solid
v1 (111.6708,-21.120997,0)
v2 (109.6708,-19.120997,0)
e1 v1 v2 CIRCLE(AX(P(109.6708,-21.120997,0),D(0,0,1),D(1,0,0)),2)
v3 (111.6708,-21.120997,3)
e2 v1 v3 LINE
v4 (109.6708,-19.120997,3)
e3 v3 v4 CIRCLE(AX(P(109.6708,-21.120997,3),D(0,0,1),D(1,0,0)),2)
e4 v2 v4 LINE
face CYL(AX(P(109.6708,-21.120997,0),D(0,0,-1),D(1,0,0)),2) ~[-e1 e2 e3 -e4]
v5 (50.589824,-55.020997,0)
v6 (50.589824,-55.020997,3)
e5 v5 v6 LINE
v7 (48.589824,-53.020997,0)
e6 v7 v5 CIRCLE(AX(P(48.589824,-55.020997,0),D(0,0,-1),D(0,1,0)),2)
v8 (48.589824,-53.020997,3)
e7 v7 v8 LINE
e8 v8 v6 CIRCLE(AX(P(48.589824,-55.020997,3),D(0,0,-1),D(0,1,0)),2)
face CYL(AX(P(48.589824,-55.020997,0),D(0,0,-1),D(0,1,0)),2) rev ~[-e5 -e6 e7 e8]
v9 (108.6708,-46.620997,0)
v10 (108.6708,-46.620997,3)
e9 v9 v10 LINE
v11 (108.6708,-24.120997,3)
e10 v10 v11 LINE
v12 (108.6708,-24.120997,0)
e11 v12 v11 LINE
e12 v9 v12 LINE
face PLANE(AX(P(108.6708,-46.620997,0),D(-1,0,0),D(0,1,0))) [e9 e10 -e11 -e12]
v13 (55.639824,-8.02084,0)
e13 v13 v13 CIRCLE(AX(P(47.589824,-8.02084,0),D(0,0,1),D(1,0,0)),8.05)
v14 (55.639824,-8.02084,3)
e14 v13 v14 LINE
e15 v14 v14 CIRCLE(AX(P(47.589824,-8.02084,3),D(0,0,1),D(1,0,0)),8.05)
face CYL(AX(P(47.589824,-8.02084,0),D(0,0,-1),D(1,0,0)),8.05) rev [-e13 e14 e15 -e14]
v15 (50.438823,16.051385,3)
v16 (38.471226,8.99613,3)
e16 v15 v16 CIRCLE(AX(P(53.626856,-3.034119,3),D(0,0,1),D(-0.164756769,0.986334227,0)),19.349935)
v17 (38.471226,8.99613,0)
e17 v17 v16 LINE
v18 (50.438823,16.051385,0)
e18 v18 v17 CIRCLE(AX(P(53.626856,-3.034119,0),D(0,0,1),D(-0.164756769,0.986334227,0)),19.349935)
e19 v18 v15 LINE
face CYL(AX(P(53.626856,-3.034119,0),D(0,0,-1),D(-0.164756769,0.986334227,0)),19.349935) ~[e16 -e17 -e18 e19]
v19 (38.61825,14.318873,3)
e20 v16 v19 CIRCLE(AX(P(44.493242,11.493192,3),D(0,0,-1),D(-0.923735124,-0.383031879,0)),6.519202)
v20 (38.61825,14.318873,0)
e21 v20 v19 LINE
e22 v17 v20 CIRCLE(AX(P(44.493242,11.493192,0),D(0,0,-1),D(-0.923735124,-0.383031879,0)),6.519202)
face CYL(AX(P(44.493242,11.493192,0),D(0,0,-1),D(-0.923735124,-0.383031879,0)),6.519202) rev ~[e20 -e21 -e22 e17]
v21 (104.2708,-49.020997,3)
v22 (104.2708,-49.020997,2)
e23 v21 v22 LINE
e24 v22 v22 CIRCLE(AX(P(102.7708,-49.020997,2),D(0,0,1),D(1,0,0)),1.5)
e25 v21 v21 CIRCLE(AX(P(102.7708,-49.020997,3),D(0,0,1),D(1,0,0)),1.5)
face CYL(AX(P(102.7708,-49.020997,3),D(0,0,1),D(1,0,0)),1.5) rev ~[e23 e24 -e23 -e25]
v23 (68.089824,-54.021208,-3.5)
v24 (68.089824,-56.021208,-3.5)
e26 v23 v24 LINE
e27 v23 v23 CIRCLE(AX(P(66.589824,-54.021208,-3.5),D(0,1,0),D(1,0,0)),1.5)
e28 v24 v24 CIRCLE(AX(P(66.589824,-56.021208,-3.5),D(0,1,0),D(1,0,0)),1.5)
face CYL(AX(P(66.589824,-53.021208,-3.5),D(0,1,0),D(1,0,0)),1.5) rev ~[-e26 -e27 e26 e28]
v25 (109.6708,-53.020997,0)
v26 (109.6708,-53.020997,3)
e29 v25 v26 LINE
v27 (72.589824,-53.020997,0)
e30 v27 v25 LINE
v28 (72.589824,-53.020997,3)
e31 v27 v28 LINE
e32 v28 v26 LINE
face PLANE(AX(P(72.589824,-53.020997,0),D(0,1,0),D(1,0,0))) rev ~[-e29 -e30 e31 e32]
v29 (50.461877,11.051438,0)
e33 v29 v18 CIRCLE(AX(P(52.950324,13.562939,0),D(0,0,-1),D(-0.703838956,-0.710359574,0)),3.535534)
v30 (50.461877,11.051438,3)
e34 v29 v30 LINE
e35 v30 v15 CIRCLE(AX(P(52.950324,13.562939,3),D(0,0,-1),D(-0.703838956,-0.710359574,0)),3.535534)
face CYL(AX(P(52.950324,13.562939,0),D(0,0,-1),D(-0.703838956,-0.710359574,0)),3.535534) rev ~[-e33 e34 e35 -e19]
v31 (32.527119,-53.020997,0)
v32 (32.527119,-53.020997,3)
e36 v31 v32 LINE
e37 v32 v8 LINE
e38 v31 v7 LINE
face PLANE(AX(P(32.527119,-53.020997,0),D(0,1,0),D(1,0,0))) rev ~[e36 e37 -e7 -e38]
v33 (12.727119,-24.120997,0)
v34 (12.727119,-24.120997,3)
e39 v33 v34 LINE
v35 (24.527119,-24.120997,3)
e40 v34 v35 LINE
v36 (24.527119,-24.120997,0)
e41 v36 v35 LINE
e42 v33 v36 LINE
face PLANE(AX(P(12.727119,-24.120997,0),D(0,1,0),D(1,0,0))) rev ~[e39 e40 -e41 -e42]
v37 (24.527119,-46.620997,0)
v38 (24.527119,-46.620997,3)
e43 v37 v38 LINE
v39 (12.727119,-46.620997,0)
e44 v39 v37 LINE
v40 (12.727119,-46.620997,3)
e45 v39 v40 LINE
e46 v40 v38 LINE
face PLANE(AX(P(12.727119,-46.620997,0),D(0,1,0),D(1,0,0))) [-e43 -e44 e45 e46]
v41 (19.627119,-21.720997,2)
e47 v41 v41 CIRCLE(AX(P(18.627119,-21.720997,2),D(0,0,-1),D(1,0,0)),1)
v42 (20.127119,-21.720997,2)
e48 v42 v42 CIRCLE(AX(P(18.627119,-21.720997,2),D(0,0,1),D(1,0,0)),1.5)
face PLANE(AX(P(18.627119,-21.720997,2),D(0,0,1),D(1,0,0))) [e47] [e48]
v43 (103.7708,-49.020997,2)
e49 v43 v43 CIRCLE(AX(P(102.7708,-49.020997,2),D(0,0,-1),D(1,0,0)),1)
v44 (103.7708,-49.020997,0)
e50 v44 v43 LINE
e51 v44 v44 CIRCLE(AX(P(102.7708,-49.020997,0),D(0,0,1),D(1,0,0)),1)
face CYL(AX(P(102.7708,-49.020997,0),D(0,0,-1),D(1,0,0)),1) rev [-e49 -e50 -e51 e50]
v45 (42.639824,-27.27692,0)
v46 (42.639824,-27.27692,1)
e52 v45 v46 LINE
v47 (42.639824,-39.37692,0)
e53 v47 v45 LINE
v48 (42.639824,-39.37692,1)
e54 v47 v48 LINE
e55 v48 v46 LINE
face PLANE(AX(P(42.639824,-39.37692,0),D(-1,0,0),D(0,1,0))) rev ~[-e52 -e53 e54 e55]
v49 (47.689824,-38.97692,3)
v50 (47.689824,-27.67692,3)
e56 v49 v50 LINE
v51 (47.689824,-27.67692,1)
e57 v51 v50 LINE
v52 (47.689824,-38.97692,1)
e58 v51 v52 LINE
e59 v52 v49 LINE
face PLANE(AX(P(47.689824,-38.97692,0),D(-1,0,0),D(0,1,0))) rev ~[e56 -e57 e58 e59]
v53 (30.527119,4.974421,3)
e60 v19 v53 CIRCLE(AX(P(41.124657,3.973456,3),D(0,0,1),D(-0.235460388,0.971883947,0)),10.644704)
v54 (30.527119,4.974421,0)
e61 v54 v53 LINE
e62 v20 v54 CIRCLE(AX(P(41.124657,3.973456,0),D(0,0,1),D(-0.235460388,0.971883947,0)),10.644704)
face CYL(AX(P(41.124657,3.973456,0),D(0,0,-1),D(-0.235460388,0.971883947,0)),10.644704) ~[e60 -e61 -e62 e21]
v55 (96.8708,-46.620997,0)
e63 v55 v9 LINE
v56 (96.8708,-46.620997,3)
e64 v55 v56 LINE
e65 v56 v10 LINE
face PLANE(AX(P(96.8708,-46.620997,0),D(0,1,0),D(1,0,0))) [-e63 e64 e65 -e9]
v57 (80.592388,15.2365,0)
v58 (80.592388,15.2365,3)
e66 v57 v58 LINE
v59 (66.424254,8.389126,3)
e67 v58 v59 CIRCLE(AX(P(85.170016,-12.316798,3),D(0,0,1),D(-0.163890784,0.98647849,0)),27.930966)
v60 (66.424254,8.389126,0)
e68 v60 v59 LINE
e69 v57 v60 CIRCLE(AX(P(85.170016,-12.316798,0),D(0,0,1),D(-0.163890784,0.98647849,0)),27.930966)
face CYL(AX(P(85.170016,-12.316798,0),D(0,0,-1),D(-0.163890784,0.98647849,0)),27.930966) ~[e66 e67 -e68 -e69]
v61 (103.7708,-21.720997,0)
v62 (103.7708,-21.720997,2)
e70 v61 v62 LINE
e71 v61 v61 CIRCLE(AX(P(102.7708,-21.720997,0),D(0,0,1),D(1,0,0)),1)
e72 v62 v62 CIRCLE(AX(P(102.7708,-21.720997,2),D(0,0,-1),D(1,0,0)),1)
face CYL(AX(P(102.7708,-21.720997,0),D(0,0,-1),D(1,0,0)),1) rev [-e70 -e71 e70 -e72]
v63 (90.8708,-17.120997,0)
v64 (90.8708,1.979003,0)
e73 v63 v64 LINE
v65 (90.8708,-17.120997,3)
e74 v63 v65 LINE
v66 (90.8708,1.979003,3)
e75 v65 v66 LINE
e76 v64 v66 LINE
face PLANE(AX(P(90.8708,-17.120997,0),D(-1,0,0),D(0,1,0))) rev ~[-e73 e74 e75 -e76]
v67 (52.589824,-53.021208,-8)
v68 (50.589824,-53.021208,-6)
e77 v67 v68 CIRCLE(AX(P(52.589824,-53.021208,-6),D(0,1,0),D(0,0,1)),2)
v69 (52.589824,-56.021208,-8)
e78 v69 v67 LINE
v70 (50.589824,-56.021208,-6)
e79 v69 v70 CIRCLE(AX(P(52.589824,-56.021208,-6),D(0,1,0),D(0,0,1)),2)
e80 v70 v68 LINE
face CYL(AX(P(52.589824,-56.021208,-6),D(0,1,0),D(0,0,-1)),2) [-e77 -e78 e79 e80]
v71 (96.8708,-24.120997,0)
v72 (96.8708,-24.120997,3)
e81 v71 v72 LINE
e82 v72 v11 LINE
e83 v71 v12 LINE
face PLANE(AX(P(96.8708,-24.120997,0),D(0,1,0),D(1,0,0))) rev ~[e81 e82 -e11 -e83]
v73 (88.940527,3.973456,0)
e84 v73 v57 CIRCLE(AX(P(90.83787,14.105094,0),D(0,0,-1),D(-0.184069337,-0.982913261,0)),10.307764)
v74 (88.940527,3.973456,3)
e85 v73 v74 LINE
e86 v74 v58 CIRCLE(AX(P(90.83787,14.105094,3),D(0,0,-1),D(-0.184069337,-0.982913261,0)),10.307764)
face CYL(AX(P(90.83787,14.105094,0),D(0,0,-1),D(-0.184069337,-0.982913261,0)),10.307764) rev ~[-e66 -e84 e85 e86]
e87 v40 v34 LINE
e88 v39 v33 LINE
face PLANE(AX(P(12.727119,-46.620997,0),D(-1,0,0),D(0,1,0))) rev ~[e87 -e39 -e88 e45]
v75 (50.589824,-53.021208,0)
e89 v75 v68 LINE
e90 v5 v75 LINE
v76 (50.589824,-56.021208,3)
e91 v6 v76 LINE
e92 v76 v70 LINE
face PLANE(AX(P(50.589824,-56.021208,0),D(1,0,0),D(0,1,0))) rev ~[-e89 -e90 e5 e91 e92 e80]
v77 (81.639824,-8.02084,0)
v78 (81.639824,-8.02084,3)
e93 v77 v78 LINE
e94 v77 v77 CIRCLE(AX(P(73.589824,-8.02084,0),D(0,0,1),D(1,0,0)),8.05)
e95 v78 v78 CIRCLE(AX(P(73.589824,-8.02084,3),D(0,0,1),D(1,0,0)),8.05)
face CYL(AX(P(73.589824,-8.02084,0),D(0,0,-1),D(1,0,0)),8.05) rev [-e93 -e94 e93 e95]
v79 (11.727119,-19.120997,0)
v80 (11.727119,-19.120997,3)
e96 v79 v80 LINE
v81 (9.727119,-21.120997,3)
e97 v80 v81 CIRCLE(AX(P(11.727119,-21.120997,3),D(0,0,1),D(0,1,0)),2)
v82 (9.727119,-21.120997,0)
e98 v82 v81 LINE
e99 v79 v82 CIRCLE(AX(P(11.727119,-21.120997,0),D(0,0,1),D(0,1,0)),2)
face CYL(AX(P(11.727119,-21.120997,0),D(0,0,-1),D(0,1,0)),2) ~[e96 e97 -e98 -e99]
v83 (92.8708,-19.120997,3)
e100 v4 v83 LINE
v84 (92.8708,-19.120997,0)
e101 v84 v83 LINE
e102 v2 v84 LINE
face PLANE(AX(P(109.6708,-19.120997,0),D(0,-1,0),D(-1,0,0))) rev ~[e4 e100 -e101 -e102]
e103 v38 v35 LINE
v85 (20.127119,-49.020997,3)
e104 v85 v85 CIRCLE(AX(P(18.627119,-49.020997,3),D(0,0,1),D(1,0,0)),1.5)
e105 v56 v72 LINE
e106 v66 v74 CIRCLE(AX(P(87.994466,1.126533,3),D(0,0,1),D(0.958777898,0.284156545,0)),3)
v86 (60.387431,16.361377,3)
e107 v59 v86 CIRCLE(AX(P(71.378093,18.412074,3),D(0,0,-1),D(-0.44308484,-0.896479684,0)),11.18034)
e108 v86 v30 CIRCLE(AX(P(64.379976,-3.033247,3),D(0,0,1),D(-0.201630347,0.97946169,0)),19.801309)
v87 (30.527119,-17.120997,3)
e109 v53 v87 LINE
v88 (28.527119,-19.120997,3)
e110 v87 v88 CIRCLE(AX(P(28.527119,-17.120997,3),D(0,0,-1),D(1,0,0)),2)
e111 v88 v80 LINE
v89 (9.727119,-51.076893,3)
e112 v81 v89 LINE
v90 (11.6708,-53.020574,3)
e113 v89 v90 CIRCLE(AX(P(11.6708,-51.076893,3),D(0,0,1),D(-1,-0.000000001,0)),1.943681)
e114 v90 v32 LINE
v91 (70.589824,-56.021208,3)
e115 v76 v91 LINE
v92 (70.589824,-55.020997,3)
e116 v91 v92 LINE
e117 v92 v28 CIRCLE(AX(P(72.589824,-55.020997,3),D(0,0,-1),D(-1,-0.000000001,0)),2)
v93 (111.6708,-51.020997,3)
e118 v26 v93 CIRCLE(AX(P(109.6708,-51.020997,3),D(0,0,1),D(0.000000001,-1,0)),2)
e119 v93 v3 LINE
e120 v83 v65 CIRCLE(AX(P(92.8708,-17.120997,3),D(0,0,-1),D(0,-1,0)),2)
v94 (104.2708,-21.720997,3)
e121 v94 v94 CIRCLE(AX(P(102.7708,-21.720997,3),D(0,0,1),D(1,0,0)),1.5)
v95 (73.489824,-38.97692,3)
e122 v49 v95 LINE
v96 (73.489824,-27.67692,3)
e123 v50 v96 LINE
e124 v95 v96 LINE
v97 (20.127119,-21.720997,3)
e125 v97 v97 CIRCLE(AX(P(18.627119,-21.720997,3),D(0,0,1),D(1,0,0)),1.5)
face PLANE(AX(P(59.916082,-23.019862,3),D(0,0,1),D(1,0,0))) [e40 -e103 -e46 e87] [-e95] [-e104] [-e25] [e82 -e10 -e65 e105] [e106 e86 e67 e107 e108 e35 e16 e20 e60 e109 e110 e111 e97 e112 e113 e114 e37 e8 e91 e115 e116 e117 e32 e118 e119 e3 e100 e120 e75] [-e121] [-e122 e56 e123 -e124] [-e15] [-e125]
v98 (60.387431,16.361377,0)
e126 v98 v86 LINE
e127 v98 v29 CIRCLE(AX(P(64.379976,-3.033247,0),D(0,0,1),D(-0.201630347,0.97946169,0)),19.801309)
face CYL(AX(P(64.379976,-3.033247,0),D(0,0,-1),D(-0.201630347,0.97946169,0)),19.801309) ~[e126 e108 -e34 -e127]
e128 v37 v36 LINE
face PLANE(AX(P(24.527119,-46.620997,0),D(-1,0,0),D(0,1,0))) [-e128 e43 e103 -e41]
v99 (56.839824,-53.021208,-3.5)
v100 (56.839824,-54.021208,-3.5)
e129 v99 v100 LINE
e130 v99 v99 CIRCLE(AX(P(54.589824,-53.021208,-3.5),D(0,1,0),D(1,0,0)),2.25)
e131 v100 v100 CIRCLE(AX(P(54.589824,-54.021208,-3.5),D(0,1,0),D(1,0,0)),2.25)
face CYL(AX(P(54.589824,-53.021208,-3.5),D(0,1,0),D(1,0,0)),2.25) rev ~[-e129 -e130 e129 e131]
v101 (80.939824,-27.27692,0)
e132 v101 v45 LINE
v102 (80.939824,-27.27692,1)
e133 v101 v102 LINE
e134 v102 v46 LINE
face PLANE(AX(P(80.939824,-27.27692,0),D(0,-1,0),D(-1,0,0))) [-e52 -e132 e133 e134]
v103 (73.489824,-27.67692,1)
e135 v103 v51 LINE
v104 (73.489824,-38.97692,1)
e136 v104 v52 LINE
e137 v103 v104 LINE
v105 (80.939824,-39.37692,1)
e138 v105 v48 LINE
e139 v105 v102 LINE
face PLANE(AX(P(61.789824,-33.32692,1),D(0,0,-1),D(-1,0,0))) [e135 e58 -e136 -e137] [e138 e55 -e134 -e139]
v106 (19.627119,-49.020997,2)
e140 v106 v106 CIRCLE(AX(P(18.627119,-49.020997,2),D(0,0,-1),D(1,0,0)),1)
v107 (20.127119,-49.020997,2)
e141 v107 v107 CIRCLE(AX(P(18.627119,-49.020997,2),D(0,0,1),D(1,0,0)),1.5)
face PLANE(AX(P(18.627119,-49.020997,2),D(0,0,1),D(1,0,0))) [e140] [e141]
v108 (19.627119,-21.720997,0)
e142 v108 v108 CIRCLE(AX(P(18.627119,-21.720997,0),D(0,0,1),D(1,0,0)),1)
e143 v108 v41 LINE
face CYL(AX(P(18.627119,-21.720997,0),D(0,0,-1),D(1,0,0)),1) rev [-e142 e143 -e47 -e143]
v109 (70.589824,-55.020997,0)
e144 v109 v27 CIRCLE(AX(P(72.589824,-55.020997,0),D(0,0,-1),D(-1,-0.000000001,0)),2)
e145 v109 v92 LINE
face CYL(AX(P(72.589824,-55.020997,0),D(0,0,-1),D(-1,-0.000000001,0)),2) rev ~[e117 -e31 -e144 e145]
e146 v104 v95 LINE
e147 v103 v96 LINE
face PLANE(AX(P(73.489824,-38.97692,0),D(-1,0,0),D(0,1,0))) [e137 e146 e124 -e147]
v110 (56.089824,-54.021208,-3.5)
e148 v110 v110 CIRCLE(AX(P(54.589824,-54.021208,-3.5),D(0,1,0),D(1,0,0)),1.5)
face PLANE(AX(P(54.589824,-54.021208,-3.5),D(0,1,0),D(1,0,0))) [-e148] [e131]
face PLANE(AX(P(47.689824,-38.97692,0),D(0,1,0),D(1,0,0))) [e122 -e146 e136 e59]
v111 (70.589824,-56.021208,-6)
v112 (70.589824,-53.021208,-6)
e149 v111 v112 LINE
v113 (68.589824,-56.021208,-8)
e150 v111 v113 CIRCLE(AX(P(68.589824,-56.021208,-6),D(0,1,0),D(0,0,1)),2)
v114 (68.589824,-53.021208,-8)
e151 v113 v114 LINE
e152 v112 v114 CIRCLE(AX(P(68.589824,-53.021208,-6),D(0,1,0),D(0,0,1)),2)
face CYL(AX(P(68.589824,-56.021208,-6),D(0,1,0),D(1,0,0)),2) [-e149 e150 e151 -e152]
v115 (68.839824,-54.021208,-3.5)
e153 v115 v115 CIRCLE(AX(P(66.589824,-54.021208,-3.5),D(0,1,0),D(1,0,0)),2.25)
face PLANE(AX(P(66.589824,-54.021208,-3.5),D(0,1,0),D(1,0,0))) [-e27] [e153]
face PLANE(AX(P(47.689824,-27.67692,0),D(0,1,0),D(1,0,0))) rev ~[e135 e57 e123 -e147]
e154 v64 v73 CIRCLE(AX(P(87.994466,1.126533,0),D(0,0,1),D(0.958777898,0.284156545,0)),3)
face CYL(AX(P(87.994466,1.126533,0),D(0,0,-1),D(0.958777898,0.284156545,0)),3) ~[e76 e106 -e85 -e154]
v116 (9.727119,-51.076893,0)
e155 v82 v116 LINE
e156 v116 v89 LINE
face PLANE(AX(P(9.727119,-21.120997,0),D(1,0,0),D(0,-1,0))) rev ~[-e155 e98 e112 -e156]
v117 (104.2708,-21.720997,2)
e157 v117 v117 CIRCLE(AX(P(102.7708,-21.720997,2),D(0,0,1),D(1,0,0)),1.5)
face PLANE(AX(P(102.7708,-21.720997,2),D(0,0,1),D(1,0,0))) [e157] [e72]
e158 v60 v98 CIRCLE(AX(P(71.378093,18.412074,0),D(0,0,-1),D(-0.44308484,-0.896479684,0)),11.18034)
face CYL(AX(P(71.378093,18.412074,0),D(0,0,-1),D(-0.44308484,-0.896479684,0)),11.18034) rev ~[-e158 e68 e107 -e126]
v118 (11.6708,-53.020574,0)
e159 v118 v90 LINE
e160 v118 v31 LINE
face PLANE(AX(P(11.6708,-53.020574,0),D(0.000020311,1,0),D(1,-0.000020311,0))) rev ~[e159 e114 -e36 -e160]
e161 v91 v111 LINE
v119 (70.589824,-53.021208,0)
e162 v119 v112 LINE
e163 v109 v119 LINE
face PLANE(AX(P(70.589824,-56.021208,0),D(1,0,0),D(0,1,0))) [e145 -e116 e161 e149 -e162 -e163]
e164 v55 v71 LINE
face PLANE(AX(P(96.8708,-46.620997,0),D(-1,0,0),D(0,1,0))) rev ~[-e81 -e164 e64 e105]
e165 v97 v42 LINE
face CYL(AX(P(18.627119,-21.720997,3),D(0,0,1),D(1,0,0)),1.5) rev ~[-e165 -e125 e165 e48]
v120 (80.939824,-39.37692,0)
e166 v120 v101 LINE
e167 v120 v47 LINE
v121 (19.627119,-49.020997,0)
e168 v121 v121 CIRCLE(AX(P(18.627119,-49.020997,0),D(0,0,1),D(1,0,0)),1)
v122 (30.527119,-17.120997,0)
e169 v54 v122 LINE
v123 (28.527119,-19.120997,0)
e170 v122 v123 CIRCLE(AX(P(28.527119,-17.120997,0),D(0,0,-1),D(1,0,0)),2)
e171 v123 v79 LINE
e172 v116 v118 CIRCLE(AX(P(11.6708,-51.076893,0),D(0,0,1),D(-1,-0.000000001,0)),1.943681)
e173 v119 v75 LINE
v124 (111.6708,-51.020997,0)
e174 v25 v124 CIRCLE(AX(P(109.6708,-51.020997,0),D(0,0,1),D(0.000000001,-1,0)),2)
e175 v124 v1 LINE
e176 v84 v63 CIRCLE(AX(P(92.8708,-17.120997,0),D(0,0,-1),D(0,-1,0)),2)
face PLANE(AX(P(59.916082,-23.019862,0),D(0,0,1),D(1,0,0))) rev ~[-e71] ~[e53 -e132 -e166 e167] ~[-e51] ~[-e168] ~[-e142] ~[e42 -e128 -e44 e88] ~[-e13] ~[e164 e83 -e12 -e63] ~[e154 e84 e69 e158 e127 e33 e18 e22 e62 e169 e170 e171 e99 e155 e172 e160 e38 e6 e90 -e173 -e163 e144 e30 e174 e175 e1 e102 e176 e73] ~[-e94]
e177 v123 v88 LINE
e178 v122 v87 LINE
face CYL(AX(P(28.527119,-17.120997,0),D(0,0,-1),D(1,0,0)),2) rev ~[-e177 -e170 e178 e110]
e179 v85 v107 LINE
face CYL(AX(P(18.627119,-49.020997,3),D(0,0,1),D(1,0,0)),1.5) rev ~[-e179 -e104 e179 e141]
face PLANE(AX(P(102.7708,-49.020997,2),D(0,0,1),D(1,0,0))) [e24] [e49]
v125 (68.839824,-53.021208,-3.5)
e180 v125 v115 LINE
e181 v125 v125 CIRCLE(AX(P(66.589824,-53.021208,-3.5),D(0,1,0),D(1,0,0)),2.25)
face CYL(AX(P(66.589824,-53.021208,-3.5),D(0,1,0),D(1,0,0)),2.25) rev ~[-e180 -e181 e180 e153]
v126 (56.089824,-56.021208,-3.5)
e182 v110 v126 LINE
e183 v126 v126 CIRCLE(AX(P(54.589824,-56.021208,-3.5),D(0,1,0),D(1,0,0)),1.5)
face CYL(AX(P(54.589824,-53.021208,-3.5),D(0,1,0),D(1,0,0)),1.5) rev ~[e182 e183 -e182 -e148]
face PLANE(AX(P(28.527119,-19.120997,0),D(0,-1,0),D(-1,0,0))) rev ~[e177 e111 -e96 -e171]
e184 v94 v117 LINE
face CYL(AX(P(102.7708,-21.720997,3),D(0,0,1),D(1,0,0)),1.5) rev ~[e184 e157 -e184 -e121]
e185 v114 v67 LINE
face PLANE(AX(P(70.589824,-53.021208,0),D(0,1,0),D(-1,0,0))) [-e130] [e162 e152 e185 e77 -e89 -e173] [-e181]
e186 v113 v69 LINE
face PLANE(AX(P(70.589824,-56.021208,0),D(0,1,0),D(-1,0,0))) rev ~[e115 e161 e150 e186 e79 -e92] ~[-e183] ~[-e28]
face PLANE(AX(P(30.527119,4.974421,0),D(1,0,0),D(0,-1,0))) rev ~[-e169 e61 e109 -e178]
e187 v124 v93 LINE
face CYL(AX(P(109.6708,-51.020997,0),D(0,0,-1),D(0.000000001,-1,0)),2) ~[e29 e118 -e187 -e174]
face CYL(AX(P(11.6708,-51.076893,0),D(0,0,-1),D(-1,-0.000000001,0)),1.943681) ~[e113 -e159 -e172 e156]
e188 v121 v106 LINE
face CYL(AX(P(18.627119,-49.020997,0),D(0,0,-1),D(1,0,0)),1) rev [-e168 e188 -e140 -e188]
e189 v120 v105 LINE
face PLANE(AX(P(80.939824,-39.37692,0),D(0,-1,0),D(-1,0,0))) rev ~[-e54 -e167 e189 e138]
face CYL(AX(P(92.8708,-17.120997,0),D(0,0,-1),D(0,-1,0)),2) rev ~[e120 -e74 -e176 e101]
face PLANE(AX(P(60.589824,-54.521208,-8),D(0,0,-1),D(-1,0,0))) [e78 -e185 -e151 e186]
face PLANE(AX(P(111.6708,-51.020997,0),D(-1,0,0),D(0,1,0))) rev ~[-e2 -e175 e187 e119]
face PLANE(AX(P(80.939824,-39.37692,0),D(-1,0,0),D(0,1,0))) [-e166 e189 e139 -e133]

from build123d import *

# Parameters (mm, degrees)
MODEL_R                 = 8.05
MODEL_R_2               = 1
MODEL_W                 = 25.8
MODEL_H                 = 11.3
MODEL_W_2               = 11.8
MODEL_H_2               = 22.5
SALIENTE_EXTRUIR1_DEPTH = 3
CROQUIS2_W              = 38.3
CROQUIS2_H              = 12.1
CORTAR_EXTRUIR1_DEPTH   = 1
CROQUIS3_R              = 1.5
CORTAR_EXTRUIR2_DEPTH   = 1
CROQUIS4_W              = 20
CROQUIS4_H              = 3
SALIENTE_EXTRUIR2_DEPTH = 8
CROQUIS5_R              = 1.5
CORTAR_EXTRUIR3_DEPTH   = 3
CROQUIS6_R              = 2.25
CORTAR_EXTRUIR4_DEPTH   = 1
REDONDEO1_R             = 2


with BuildPart() as part:
    # Model → Saliente-Extruir1 (new body)
    with BuildSketch(Plane.XY):
        with BuildLine():
            Line((50.589823504, -56.021207572), (70.589823504, -56.021207572))
            Line((70.589823504, -56.021207572), (70.589823504, -55.020997464))
            ThreePointArc((70.589823504, -55.020997464), (71.175609941, -53.606783901), (72.589823504, -53.020997464))
            Line((72.589823504, -53.020997464), (88.870799912, -53.020997464))
            Line((88.870799912, -53.020997464), (109.670799912, -53.020997464))
            ThreePointArc((109.670799912, -53.020997464), (111.085013474, -52.435211026), (111.670799912, -51.020997464))
            Line((111.670799912, -51.020997464), (111.670799912, -21.120997464))
            ThreePointArc((111.670799912, -21.120997464), (111.085013474, -19.706783901), (109.670799912, -19.120997464))
            Line((109.670799912, -19.120997464), (92.870799912, -19.120997464))
            ThreePointArc((92.870799912, -19.120997464), (91.456586349, -18.535211026), (90.870799912, -17.120997464))
            Line((90.870799912, -17.120997464), (90.870799912, 1.979002536))
            ThreePointArc((90.870799912, 1.979002536), (90.150187884, 3.212884764), (88.940527152, 3.973455574))
            ThreePointArc((88.940527152, 3.973455574), (82.556801864, 7.967186508), (80.592387516, 15.236499516))
            ThreePointArc((80.592387516, 15.236499516), (73.016137183, 12.831206377), (66.424253692, 8.389126209))
            ThreePointArc((66.424253692, 8.389126209), (62.464845981, 11.66270114), (60.387431279, 16.361376528))
            ThreePointArc((60.387431279, 16.361376528), (55.039384462, 14.426569266), (50.461877073, 11.051438157))
            ThreePointArc((50.461877073, 11.051438157), (49.41482724, 13.546636971), (50.438823204, 16.051385009))
            ThreePointArc((50.438823204, 16.051385009), (43.800023098, 13.634815248), (38.471226177, 8.99613013))
            ThreePointArc((38.471226177, 8.99613013), (37.976525569, 11.673196605), (38.618250464, 14.318872844))
            ThreePointArc((38.618250464, 14.318872844), (33.077419178, 10.94136051), (30.527119253, 4.974420659))
            Line((30.527119253, 4.974420659), (30.527119253, -17.120997464))
            ThreePointArc((30.527119253, -17.120997464), (29.941332816, -18.535211026), (28.527119253, -19.120997464))
            Line((28.527119253, -19.120997464), (11.727119253, -19.120997464))
            ThreePointArc((11.727119253, -19.120997464), (10.312905691, -19.706783901), (9.727119253, -21.120997464))
            Line((9.727119253, -21.120997464), (9.727119253, -51.076893199))
            ThreePointArc((9.727119253, -51.076893199), (10.296410138, -52.451282972), (11.670799912, -53.020573857))
            Line((11.670799912, -53.020573857), (32.527119253, -53.020997464))
            Line((32.527119253, -53.020997464), (48.589823504, -53.020997464))
            ThreePointArc((48.589823504, -53.020997464), (50.004037066, -53.606783901), (50.589823504, -55.020997464))
            Line((50.589823504, -55.020997464), (50.589823504, -56.021207572))
        make_face()
        with Locations((47.589823504, -8.020840193)):
            Circle(MODEL_R, mode=Mode.SUBTRACT)
        with Locations((73.589823504, -8.020840193)):
            Circle(MODEL_R, mode=Mode.SUBTRACT)
        with Locations((102.770799912, -21.720997464)):
            Circle(MODEL_R_2, mode=Mode.SUBTRACT)
        with Locations((102.770799912, -49.020997464)):
            Circle(MODEL_R_2, mode=Mode.SUBTRACT)
        with Locations((18.627119253, -21.720997464)):
            Circle(MODEL_R_2, mode=Mode.SUBTRACT)
        with Locations((18.627119253, -49.020997464)):
            Circle(MODEL_R_2, mode=Mode.SUBTRACT)
        with Locations((60.589823504, -33.326919867)):
            Rectangle(MODEL_W, MODEL_H, mode=Mode.SUBTRACT)
        with Locations((102.770799912, -35.370997464)):
            Rectangle(MODEL_W_2, MODEL_H_2, mode=Mode.SUBTRACT)
        with Locations((18.627119253, -35.370997464)):
            Rectangle(MODEL_W_2, MODEL_H_2, mode=Mode.SUBTRACT)
    extrude(amount=SALIENTE_EXTRUIR1_DEPTH)

    # Croquis2 → Cortar-Extruir1 (cut)
    with BuildSketch(Plane(origin=(0, 0, 0), x_dir=(-1, 0, 0), z_dir=(0, 0, -1))):
        with Locations((-61.789823504, -33.326919867)):
            Rectangle(CROQUIS2_W, CROQUIS2_H)
    extrude(amount=-CORTAR_EXTRUIR1_DEPTH, mode=Mode.SUBTRACT)

    # Croquis3 → Cortar-Extruir2 (cut)
    with BuildSketch(Plane.XY.offset(3)):
        with Locations((18.627119253, -21.720997464)):
            Circle(CROQUIS3_R)
        with Locations((18.627119253, -49.020997464)):
            Circle(CROQUIS3_R)
        with Locations((102.770799912, -49.020997464)):
            Circle(CROQUIS3_R)
        with Locations((102.770799912, -21.720997464)):
            Circle(CROQUIS3_R)
    extrude(amount=-CORTAR_EXTRUIR2_DEPTH, mode=Mode.SUBTRACT)

    # Croquis4 → Saliente-Extruir2 (add)
    with BuildSketch(Plane(origin=(0, 0, 0), x_dir=(-1, 0, 0), z_dir=(0, 0, -1))):
        with Locations((-60.589823504, -54.521207572)):
            Rectangle(CROQUIS4_W, CROQUIS4_H)
    extrude(amount=SALIENTE_EXTRUIR2_DEPTH)

    # Croquis5 → Cortar-Extruir3 (cut)
    with BuildSketch(Plane(origin=(0, -53.021207572, 0), x_dir=(1, 0, 0), z_dir=(0, 1, 0))):
        with Locations((54.589823504, 3.5)):
            Circle(CROQUIS5_R)
        with Locations((66.589823504, 3.5)):
            Circle(CROQUIS5_R)
    extrude(amount=-CORTAR_EXTRUIR3_DEPTH, mode=Mode.SUBTRACT)

    # Croquis6 → Cortar-Extruir4 (cut)
    with BuildSketch(Plane(origin=(0, -53.021207572, 0), x_dir=(1, 0, 0), z_dir=(0, 1, 0))):
        with Locations((66.589823504, 3.5)):
            Circle(CROQUIS6_R)
        with Locations((54.589823504, 3.5)):
            Circle(CROQUIS6_R)
    extrude(amount=-CORTAR_EXTRUIR4_DEPTH, mode=Mode.SUBTRACT)

    # Redondeo1
    redondeo1_edges = [part.edges().sort_by_distance(p)[0] for p in [
        (70.589823504, -54.521207572, -8),
        (50.589823504, -54.521207572, -8),
    ]]
    fillet(redondeo1_edges, radius=REDONDEO1_R)


solid = part.part
